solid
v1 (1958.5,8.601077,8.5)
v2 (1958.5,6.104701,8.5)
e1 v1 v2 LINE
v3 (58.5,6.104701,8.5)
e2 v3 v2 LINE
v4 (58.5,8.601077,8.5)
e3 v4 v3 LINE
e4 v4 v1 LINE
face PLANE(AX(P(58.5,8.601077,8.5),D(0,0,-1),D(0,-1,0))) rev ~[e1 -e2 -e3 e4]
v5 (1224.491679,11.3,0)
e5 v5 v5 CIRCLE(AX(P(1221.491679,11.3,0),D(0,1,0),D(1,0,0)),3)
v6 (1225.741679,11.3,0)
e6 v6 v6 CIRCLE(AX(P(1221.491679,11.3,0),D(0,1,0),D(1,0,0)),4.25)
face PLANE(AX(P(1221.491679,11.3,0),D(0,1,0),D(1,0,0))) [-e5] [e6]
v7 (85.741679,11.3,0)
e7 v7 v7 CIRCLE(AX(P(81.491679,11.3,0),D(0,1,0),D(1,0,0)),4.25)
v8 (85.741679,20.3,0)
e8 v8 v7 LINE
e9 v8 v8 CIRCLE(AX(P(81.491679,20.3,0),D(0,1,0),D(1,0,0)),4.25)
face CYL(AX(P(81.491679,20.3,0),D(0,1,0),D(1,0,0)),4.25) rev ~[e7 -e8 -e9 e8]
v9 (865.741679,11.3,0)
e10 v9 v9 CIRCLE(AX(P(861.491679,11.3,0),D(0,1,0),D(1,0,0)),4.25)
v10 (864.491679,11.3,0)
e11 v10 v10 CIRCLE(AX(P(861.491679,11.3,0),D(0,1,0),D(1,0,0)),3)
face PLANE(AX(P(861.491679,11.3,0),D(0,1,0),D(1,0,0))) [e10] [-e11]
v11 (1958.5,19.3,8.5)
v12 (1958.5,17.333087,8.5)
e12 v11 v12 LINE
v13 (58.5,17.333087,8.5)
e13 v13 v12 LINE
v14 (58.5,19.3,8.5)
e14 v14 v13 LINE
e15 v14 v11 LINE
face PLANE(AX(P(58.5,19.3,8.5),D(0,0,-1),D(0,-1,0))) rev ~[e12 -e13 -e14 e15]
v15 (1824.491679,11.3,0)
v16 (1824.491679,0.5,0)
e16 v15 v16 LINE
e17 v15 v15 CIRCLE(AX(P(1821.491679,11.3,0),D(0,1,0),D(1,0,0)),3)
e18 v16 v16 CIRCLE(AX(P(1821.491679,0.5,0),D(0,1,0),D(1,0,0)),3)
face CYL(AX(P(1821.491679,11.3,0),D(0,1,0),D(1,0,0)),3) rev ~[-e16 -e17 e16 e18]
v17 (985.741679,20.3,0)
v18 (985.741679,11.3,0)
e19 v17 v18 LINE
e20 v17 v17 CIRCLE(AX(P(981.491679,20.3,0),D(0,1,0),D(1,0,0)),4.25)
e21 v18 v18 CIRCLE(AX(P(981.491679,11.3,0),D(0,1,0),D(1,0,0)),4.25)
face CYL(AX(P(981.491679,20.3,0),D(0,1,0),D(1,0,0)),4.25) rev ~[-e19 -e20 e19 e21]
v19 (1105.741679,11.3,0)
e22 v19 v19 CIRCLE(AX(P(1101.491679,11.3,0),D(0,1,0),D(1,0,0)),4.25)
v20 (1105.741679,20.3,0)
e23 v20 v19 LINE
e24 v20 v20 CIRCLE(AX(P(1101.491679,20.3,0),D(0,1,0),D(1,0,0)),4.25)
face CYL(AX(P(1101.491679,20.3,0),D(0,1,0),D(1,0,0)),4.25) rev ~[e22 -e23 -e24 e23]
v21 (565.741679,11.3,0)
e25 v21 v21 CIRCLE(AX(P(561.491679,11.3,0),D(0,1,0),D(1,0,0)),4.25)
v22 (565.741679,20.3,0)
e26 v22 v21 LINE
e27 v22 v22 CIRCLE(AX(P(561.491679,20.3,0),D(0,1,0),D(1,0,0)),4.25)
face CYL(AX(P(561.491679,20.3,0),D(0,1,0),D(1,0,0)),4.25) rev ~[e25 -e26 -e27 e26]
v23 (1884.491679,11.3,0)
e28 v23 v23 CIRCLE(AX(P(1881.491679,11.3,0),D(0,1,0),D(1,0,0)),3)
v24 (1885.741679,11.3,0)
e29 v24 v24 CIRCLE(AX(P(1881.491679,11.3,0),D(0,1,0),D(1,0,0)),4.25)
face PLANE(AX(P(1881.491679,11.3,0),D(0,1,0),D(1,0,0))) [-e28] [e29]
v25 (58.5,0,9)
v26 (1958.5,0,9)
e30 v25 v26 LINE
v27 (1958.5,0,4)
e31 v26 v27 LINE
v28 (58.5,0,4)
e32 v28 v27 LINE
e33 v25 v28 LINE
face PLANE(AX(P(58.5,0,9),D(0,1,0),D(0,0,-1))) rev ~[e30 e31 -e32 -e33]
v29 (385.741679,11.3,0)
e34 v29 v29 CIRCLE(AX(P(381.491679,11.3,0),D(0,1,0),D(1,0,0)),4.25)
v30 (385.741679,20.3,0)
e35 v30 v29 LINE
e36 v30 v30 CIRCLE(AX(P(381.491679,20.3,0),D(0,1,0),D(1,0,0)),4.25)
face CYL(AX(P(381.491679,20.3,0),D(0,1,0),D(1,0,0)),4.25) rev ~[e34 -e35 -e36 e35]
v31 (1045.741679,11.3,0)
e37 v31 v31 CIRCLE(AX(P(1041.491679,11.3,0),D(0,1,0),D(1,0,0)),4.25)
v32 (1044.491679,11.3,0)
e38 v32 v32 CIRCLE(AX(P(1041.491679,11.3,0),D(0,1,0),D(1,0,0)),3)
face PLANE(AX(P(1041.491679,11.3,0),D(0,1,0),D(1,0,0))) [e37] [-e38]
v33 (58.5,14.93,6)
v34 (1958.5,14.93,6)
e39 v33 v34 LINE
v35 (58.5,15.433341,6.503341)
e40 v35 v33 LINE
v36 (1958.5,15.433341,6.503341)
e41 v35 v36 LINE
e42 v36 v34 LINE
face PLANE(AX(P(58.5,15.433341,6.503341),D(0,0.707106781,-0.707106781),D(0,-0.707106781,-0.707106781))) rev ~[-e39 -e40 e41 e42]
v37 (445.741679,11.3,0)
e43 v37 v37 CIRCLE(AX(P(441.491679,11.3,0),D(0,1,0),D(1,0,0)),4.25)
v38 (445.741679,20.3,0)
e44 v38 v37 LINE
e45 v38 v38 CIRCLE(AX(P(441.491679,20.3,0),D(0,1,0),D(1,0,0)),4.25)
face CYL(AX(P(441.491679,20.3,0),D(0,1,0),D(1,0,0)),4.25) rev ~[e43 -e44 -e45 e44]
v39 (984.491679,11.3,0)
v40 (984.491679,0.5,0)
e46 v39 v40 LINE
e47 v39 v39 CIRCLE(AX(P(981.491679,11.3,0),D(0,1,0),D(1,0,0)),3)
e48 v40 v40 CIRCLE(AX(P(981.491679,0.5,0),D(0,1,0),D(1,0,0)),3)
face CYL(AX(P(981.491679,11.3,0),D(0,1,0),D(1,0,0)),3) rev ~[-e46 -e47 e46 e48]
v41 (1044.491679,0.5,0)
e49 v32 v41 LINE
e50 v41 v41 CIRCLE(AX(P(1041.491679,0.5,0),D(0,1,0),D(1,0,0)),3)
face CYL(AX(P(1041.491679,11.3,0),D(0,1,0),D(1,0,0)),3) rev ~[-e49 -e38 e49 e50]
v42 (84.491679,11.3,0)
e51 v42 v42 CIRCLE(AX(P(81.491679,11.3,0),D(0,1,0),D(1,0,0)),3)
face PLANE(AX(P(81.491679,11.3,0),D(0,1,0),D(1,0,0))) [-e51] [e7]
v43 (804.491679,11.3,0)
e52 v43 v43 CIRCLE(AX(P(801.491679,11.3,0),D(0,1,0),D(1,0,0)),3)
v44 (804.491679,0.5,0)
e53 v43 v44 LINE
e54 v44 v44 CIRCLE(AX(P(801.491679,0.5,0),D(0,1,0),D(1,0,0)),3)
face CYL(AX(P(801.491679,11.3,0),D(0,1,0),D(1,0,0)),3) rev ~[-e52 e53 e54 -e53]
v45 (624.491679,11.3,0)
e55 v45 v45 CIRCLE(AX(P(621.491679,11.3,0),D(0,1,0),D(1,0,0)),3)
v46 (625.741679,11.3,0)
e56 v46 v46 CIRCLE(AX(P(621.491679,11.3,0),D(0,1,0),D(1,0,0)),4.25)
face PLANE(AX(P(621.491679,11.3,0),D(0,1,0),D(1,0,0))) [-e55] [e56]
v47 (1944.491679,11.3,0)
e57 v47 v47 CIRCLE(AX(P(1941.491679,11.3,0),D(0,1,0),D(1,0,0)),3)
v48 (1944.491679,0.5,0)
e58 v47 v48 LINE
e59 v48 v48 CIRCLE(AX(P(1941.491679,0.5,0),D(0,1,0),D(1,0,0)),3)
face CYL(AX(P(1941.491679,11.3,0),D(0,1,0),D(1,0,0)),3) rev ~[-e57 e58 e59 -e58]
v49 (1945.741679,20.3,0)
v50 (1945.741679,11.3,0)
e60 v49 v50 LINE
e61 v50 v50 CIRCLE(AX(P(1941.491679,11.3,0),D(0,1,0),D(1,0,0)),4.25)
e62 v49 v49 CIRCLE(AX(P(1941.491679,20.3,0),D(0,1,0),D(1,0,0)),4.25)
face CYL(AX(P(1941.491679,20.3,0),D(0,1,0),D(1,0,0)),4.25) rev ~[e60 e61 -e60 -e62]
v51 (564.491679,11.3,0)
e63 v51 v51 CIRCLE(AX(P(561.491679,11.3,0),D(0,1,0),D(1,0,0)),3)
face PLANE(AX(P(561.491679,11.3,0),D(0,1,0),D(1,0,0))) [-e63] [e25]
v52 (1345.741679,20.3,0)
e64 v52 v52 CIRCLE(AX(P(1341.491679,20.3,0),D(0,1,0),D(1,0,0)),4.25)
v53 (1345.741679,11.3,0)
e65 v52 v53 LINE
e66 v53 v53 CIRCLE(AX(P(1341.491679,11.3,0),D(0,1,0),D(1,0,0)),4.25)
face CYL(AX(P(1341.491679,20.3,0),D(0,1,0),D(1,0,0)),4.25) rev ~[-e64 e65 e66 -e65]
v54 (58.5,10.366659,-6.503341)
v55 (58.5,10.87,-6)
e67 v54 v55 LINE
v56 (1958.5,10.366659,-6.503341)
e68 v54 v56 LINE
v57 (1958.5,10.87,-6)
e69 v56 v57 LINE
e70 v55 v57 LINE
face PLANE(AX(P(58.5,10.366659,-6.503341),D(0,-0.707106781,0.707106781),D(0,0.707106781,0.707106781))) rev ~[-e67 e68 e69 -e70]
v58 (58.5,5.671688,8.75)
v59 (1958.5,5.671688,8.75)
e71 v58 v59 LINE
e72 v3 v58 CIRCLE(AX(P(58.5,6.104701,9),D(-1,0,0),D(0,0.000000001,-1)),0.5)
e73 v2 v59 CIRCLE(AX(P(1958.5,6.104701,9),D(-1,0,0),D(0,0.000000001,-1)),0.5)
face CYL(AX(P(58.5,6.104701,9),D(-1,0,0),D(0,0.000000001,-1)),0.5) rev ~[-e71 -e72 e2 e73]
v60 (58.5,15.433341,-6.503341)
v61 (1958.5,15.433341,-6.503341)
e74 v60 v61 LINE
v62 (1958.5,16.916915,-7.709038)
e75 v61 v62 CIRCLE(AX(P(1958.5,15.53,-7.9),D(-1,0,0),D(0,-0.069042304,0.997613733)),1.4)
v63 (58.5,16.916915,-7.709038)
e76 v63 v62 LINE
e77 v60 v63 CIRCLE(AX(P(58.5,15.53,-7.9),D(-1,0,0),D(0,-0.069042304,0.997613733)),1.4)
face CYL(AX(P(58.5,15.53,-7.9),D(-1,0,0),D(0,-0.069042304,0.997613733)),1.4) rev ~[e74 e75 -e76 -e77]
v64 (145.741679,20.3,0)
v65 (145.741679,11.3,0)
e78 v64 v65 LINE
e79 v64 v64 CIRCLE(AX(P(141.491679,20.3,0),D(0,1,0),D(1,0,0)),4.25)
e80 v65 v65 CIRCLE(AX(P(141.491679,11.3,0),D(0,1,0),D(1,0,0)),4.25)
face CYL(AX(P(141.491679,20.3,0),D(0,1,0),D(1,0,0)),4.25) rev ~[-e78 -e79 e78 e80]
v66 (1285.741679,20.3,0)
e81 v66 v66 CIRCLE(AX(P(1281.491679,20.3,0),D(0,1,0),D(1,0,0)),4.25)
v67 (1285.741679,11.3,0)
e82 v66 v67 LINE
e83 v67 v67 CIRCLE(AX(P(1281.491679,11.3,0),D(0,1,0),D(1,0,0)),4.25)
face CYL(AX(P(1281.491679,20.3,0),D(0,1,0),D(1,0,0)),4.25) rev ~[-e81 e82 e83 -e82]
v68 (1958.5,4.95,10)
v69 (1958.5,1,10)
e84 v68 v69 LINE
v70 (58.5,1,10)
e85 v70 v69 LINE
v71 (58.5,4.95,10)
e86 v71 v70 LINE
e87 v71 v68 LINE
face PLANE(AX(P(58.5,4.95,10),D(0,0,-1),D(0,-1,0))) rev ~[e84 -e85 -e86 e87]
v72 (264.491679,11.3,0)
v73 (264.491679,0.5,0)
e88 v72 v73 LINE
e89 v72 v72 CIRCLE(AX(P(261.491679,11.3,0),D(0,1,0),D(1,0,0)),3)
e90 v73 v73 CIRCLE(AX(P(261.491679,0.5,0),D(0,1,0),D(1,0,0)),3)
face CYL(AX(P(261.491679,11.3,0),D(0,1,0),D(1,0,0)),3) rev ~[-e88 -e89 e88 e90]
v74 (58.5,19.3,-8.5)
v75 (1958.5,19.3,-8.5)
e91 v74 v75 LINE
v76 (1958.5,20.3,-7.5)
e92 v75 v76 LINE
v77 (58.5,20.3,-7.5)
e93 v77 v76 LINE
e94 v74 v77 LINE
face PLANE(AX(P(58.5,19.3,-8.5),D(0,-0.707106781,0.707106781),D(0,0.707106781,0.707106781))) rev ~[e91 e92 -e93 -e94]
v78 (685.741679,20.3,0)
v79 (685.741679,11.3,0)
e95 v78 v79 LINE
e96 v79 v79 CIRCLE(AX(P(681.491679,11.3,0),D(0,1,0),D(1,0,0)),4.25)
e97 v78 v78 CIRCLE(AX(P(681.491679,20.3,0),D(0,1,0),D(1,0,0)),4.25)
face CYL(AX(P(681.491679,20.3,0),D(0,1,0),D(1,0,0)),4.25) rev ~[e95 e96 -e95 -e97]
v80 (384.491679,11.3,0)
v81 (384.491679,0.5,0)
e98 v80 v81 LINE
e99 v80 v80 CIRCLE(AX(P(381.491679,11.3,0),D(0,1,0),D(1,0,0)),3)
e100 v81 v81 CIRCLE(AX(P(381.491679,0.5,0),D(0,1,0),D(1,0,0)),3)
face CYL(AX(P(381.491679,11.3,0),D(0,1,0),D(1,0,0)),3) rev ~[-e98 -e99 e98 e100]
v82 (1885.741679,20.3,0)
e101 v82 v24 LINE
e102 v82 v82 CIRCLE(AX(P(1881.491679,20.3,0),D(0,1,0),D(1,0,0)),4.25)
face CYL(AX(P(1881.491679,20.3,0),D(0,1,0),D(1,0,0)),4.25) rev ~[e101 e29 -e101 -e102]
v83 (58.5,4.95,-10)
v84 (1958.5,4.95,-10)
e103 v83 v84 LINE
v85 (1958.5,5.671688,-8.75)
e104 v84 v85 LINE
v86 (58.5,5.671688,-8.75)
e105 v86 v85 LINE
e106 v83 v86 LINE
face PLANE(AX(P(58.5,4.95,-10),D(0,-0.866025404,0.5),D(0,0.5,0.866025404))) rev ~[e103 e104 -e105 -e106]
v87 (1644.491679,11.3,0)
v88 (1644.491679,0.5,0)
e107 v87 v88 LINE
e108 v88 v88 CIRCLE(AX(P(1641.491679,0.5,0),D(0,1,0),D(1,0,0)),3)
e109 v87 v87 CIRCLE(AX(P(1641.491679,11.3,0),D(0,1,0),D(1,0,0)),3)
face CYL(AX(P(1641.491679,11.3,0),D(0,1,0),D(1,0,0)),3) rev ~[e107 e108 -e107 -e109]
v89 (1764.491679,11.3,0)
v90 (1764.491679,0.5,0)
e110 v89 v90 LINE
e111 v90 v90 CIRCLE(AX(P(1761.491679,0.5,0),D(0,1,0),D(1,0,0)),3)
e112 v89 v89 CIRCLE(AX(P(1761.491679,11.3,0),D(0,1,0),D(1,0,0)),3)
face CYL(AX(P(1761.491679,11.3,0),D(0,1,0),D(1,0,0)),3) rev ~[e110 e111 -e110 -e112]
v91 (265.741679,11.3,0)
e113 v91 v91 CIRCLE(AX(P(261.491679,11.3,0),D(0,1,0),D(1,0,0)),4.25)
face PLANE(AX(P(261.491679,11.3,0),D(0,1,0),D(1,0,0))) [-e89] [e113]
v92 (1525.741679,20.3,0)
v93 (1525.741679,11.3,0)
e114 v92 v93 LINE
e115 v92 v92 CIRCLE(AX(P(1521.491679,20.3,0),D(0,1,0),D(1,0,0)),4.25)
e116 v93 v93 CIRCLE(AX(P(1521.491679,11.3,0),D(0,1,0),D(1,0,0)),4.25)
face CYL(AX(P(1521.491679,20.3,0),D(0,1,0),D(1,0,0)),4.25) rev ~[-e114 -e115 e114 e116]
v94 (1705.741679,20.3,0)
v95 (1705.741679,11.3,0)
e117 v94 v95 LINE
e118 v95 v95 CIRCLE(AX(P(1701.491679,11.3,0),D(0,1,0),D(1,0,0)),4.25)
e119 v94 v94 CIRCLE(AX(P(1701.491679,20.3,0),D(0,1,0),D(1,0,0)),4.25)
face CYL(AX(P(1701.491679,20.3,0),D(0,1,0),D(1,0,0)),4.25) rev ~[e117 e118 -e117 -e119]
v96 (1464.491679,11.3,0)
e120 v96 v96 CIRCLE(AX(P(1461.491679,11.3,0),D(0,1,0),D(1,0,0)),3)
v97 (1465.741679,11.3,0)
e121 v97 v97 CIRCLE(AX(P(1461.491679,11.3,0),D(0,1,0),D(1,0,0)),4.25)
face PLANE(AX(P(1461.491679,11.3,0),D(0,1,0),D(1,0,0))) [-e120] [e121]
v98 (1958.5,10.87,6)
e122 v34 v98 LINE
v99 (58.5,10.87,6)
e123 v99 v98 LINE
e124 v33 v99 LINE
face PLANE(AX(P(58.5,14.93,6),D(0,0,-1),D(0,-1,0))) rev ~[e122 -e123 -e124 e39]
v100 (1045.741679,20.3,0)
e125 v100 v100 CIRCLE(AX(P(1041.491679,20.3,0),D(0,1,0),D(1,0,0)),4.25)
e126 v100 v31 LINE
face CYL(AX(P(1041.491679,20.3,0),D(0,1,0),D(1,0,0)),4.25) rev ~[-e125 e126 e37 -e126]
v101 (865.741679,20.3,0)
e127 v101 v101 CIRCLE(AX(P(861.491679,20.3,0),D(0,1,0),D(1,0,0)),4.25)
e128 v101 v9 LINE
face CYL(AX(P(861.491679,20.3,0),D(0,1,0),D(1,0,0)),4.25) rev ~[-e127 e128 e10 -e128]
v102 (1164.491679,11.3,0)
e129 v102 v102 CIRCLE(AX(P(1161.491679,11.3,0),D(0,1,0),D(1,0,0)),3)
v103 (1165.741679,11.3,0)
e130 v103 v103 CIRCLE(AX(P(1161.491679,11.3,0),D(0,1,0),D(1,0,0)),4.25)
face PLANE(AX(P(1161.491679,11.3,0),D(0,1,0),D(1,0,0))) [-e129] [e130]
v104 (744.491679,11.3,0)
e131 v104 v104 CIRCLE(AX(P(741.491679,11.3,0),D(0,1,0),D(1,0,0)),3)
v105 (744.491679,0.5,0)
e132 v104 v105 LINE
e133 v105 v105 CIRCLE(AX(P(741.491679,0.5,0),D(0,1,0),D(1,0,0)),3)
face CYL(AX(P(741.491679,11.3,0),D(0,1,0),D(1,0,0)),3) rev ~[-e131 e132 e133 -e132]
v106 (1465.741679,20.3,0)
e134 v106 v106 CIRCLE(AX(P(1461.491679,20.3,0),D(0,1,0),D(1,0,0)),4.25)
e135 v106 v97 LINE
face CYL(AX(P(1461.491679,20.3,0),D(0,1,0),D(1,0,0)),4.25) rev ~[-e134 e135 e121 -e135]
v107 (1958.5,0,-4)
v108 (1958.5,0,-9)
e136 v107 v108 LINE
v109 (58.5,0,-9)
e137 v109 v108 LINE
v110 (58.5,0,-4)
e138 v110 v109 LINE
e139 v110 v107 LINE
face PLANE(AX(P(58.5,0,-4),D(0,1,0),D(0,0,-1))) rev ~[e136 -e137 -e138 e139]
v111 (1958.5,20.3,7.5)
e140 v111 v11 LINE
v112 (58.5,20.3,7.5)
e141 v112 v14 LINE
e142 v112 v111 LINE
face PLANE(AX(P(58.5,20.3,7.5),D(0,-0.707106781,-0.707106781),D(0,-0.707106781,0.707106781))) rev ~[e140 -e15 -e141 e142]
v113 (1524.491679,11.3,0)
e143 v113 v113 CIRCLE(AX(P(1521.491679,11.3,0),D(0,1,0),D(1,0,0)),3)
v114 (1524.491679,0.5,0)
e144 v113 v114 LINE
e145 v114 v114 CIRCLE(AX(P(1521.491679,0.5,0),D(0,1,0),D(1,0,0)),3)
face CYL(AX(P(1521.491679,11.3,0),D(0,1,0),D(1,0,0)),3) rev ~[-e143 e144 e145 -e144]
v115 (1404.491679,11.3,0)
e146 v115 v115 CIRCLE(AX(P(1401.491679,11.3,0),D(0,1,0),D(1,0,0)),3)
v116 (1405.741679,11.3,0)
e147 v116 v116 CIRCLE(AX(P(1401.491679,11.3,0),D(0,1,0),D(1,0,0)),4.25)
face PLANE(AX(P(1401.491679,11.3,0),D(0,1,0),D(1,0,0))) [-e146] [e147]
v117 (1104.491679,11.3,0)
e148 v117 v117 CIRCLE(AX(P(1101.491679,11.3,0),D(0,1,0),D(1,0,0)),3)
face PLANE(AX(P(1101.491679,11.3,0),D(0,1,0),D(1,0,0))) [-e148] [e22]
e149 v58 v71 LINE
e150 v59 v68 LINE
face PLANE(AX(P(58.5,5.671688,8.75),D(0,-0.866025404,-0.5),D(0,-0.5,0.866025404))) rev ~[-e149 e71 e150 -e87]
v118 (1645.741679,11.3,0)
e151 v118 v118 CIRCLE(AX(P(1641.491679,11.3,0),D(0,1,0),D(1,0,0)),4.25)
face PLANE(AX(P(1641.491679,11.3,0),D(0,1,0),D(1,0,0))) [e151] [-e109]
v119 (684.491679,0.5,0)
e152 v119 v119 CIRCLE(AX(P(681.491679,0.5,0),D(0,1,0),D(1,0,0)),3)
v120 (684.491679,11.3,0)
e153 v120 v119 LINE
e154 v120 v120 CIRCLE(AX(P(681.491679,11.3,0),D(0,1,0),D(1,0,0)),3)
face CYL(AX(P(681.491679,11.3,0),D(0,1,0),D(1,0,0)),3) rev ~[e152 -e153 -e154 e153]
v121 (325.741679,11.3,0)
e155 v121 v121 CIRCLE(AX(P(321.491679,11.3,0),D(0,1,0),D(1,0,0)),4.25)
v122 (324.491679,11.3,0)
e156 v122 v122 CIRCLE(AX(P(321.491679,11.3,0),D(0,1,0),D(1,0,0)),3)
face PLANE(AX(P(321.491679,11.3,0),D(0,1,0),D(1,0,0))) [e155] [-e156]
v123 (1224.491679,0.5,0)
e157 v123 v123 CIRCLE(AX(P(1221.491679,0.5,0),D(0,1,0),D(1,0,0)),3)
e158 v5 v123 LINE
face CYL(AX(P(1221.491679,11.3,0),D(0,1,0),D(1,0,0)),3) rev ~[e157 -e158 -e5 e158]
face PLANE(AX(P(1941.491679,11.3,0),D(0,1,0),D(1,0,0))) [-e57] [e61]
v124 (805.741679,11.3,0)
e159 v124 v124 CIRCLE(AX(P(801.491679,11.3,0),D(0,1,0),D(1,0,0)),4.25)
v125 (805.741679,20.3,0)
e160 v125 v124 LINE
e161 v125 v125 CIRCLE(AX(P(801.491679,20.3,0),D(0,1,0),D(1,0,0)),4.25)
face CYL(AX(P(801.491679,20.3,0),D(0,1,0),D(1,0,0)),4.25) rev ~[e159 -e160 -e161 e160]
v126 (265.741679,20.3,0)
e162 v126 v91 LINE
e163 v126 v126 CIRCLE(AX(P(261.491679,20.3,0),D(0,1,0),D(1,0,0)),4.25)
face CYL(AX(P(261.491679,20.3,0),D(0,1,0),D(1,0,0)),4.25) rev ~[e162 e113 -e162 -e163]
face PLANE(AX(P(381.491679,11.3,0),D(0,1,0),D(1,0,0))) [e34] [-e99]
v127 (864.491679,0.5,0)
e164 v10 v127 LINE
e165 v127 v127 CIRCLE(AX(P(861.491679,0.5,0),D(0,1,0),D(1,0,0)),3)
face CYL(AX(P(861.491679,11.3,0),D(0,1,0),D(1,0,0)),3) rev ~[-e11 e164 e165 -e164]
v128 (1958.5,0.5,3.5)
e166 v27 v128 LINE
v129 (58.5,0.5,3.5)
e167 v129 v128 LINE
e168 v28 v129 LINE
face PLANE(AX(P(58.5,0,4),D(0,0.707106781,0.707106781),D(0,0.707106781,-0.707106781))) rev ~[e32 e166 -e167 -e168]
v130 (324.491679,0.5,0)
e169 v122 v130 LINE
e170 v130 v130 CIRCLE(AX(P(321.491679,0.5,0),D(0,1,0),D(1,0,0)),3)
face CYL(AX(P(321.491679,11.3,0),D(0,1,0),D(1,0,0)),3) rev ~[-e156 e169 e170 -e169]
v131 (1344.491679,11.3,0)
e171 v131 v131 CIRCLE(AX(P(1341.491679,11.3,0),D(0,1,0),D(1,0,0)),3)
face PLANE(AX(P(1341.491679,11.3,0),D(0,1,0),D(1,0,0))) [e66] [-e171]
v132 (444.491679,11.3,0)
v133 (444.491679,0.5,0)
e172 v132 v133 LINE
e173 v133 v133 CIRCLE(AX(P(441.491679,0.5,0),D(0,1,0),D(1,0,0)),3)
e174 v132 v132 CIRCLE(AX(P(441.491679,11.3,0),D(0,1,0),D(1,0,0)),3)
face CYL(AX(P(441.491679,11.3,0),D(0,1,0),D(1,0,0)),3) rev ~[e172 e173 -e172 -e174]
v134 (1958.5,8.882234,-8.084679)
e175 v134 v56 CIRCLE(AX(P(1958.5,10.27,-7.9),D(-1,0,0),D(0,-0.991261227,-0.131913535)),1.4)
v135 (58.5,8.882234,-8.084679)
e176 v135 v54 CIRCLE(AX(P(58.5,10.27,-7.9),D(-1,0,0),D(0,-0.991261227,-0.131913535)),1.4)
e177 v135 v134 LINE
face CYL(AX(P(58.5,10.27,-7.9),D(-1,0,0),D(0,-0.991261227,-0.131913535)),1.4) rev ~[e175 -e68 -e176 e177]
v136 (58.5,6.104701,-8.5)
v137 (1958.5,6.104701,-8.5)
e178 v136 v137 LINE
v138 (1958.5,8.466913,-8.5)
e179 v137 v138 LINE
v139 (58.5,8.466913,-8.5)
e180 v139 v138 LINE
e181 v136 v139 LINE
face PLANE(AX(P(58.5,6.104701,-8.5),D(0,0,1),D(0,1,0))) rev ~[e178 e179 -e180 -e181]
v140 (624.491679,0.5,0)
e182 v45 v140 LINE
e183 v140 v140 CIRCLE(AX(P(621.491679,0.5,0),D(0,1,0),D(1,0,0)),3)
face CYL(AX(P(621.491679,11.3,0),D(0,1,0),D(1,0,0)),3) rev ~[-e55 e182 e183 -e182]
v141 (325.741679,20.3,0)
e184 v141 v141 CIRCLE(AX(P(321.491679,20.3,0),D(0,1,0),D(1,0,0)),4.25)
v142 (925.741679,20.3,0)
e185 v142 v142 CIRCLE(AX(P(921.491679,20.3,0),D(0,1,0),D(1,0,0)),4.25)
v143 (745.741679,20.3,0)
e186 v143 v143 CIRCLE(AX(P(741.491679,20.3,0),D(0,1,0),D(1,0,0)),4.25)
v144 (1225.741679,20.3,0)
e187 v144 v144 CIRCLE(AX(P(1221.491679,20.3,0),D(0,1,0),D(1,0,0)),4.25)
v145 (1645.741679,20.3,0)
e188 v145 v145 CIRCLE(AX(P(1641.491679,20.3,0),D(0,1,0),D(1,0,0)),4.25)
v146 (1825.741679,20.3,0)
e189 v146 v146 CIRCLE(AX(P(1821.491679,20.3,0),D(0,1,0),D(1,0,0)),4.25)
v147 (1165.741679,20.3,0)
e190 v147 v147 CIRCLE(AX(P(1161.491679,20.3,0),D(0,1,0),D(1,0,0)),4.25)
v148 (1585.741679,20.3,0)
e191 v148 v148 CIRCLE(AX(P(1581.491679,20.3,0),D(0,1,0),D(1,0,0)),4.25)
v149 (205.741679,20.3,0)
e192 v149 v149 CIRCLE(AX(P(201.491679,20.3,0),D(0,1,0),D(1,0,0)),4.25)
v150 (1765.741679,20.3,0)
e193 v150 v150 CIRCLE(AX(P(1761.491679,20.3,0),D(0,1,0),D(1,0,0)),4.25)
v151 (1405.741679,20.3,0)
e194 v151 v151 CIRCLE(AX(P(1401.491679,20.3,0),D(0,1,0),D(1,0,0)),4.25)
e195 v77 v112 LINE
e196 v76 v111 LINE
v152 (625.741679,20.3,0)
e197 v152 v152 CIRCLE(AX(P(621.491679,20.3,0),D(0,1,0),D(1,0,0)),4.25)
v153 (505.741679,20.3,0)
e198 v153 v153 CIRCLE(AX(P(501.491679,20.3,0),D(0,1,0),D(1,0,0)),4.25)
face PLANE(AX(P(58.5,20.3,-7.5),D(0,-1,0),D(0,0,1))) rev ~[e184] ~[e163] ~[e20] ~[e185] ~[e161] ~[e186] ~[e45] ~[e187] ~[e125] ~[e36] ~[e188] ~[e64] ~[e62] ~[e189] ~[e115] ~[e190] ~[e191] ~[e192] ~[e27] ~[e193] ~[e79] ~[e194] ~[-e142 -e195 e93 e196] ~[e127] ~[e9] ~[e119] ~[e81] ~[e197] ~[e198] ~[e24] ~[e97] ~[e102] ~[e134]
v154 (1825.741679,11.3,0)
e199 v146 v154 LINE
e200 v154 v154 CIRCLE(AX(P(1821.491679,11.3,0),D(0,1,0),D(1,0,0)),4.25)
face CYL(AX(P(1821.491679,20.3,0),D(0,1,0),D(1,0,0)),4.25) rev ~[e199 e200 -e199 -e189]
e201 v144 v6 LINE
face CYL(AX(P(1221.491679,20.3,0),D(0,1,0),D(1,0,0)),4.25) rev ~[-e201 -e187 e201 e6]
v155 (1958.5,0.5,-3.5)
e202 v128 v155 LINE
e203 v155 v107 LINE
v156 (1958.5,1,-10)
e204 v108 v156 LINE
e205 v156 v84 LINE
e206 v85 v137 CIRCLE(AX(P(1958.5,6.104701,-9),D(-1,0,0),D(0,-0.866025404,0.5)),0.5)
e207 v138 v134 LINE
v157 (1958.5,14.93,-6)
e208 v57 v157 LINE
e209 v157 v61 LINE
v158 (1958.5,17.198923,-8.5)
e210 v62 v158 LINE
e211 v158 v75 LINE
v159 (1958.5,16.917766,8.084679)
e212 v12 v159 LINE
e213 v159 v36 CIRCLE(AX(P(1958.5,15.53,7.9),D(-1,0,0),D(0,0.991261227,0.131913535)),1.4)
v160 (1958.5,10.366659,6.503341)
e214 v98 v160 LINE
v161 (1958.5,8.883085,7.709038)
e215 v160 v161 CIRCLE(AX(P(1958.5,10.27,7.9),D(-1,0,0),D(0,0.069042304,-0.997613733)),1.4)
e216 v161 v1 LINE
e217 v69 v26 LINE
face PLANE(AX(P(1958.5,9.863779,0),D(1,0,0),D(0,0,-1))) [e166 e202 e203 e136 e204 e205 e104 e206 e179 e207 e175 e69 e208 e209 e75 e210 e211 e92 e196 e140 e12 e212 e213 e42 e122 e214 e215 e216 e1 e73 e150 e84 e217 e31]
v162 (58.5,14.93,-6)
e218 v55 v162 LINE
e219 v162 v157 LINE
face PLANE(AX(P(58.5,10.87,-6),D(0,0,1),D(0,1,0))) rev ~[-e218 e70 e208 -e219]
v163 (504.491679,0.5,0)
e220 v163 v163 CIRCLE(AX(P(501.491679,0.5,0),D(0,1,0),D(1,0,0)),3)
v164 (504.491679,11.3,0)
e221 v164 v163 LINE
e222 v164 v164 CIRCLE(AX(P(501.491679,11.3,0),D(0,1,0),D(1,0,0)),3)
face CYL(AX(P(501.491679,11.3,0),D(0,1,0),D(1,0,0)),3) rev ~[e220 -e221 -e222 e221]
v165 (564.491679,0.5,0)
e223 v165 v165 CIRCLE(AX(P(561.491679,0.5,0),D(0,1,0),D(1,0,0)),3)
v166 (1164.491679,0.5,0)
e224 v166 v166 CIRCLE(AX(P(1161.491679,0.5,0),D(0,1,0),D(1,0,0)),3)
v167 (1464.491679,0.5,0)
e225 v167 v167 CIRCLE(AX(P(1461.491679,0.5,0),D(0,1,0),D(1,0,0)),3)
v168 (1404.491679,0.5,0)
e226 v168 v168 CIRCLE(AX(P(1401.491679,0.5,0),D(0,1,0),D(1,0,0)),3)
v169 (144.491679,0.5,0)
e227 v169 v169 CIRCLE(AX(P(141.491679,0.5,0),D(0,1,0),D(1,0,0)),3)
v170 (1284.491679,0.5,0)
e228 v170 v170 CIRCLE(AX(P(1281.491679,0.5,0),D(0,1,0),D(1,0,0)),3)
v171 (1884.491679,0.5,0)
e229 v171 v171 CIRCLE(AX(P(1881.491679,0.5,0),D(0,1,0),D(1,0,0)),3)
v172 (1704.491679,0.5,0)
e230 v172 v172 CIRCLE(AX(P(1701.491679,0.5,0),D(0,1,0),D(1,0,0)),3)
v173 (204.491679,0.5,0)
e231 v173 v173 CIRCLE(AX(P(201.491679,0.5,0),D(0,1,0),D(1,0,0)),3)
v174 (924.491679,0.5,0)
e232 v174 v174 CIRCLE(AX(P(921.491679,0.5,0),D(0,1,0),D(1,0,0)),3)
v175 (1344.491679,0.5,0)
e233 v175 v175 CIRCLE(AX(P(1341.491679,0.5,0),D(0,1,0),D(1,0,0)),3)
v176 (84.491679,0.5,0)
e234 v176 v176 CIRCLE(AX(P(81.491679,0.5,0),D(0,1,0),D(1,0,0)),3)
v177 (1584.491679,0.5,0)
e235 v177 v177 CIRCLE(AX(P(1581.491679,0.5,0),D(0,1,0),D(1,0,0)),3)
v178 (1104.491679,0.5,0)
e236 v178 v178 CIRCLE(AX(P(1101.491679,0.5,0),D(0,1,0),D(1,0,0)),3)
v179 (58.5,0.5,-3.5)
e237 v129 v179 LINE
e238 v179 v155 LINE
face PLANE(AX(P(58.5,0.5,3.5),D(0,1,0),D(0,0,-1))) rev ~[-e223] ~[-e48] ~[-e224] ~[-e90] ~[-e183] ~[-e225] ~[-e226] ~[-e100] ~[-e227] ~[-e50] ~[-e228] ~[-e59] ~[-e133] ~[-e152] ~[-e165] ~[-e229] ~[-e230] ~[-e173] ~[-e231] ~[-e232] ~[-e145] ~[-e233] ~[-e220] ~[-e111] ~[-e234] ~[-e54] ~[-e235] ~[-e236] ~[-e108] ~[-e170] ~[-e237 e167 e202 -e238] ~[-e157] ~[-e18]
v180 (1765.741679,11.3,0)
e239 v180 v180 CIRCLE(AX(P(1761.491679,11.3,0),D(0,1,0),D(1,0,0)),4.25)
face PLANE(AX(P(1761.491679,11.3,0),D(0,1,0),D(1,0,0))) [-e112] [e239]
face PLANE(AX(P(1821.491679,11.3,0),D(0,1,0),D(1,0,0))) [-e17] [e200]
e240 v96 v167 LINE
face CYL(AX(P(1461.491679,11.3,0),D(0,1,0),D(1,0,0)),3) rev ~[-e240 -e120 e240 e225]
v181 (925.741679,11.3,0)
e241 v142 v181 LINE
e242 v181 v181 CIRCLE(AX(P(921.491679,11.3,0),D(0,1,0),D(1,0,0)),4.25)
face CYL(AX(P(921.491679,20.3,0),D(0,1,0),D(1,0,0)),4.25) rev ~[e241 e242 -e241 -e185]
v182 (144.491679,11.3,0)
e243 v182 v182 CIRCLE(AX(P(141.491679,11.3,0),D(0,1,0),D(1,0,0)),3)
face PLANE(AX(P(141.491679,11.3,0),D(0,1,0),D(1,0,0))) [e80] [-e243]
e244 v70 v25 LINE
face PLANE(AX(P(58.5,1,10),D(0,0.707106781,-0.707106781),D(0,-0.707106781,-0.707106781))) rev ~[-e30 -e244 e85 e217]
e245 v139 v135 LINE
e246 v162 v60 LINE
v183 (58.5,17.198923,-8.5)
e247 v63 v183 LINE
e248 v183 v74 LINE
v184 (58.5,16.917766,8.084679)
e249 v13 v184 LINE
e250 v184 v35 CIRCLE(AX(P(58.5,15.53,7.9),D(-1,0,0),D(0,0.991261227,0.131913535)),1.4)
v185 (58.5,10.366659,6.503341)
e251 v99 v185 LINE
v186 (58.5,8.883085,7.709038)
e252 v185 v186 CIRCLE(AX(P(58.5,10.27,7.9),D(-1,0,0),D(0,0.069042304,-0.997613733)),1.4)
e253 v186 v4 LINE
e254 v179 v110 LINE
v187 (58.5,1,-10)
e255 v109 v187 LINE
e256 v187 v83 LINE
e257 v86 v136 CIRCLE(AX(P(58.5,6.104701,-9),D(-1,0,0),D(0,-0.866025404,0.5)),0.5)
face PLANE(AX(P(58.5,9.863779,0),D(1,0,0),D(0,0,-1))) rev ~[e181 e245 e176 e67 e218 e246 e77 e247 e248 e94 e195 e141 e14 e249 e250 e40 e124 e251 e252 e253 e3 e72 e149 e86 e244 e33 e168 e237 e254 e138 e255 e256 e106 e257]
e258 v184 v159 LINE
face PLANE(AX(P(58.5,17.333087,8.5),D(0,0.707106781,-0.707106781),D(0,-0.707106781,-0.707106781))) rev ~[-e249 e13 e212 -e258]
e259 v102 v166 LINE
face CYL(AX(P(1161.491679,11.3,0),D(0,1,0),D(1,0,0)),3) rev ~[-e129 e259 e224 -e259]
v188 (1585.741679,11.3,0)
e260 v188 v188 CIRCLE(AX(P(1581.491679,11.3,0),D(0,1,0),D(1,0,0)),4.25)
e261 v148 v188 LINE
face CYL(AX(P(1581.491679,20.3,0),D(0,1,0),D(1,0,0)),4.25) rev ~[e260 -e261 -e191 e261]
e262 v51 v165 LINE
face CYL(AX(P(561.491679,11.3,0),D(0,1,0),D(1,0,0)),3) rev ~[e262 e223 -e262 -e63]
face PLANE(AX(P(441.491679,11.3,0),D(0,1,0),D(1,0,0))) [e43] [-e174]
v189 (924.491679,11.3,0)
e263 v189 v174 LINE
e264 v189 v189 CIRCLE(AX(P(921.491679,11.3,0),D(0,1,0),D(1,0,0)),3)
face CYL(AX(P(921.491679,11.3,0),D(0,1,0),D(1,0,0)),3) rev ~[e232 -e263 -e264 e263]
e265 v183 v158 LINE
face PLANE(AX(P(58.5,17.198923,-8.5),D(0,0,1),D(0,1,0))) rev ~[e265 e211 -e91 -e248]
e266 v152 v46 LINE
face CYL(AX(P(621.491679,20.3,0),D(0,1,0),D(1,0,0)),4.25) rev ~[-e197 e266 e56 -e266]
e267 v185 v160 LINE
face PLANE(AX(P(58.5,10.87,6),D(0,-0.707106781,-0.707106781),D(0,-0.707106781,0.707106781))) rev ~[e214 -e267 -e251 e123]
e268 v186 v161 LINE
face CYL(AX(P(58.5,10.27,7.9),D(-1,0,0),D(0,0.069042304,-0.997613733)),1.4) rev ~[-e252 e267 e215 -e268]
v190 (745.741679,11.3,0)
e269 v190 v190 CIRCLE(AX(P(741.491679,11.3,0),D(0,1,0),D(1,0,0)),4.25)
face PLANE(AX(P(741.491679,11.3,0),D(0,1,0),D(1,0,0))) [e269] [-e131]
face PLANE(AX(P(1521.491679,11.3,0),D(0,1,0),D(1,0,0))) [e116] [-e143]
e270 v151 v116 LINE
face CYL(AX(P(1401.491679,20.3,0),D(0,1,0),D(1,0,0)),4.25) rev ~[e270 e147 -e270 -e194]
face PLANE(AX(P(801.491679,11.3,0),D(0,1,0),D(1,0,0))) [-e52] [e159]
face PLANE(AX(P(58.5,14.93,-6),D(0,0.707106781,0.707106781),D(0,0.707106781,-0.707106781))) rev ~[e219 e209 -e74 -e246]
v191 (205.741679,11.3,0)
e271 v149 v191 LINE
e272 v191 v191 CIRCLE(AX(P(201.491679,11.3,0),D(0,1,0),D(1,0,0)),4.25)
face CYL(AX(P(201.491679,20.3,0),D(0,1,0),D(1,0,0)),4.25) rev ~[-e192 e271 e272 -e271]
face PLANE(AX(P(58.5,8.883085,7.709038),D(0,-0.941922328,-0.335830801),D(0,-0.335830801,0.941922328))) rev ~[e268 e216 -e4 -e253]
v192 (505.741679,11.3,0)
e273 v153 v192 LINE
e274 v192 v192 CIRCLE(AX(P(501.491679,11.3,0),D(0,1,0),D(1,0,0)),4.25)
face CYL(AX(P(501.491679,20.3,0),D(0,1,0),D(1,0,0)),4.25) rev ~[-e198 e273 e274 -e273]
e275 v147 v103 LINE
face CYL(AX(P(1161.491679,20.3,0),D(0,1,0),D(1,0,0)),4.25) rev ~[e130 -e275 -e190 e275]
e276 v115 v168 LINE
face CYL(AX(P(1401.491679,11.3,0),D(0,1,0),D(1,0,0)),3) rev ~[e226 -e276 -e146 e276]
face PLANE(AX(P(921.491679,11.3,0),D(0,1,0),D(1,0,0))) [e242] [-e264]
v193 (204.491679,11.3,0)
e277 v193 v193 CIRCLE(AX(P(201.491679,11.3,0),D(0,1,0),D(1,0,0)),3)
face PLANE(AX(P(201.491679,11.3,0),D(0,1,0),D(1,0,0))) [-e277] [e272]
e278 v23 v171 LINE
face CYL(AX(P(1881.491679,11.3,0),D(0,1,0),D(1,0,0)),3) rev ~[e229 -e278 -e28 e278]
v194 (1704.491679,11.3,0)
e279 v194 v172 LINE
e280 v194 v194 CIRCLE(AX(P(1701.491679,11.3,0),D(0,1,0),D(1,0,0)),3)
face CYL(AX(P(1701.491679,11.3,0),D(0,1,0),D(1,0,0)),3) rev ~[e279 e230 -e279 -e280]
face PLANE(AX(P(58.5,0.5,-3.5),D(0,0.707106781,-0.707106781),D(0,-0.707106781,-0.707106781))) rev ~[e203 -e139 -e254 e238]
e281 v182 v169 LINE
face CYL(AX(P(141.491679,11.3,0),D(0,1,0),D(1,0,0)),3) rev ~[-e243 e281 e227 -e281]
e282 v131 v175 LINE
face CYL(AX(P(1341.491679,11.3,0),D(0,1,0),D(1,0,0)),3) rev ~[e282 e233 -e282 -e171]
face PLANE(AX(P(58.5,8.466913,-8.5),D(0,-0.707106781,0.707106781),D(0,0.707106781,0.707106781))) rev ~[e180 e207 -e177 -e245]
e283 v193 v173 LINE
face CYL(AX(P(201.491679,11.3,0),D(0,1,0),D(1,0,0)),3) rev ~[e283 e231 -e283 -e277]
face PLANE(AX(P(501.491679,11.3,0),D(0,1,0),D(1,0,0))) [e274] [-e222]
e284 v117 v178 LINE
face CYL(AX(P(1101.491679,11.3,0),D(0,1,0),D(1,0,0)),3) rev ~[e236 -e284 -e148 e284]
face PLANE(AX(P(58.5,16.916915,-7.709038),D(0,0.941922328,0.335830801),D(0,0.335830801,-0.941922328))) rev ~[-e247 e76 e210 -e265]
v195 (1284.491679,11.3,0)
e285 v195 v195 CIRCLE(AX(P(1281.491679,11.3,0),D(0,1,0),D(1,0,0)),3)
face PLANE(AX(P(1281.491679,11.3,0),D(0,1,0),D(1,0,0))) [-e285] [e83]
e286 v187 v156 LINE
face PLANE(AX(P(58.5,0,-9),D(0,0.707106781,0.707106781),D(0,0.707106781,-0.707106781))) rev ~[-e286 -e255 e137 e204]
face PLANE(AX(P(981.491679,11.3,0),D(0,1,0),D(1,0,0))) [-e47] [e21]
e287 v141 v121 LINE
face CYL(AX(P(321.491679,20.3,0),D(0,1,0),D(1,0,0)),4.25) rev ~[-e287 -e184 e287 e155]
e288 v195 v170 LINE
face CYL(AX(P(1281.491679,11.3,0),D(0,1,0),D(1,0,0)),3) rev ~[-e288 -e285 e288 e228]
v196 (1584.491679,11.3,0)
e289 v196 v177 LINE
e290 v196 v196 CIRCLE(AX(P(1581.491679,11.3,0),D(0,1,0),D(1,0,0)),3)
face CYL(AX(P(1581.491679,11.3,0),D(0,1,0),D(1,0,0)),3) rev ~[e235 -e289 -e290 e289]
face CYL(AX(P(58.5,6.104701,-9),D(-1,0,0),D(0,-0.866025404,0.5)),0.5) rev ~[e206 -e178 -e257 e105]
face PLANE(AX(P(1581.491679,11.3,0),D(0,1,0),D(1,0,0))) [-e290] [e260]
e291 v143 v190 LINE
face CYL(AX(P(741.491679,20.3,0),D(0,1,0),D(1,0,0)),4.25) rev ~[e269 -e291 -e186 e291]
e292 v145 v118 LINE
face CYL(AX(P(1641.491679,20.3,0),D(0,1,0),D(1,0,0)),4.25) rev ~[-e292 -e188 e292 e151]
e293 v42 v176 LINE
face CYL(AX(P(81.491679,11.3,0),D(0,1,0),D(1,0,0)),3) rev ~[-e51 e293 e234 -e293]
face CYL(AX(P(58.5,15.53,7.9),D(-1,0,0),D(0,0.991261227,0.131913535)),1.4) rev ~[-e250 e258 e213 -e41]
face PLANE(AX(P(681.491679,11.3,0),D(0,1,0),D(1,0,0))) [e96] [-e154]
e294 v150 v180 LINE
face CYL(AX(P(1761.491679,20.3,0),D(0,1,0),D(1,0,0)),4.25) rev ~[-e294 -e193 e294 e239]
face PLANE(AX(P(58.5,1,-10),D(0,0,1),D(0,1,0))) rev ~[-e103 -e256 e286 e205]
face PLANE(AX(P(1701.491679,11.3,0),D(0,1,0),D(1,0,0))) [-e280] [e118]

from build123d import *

# Parameters (mm, degrees)
BOSS_EXTRUDE5_DEPTH = 1900
SKETCH8_R           = 4.25
CUT_EXTRUDE1_DEPTH  = 9
SKETCH9_R           = 3
CUT_EXTRUDE2_DEPTH  = 12.3
LPATTERN1_COUNT     = 35
LPATTERN1_PITCH     = 60


with BuildPart() as part:
    # Sketch7 → Boss-Extrude5 (new body)
    with BuildSketch(Plane(origin=(58.5, 0, 0), x_dir=(0, 0, -1), z_dir=(1, 0, 0))):
        with BuildLine():
            Line((-7.709038211, 8.883084864), (-8.5, 8.601077183))
            Line((-8.5, 8.601077183), (-8.5, 6.104700538))
            ThreePointArc((-8.5, 6.104700538), (-8.566987298, 5.854700538), (-8.75, 5.671687836))
            Line((-8.75, 5.671687836), (-10, 4.95))
            Line((-10, 4.95), (-10, 1))
            Line((-10, 1), (-9, 0))
            Line((-9, 0), (-4, 0))
            Line((-4, 0), (-3.5, 0.5))
            Line((-3.5, 0.5), (3.5, 0.5))
            Line((3.5, 0.5), (4, 0))
            Line((4, 0), (9, 0))
            Line((9, 0), (10, 1))
            Line((10, 1), (10, 4.95))
            Line((10, 4.95), (8.75, 5.671687836))
            ThreePointArc((8.75, 5.671687836), (8.566987298, 5.854700538), (8.5, 6.104700538))
            Line((8.5, 6.104700538), (8.5, 8.46691323))
            Line((8.5, 8.46691323), (8.084678947, 8.882234283))
            ThreePointArc((8.084678947, 8.882234283), (6.941822875, 9.249266637), (6.503340774, 10.366659226))
            Line((6.503340774, 10.366659226), (6, 10.87))
            Line((6, 10.87), (6, 14.93))
            Line((6, 14.93), (6.503340774, 15.433340774))
            ThreePointArc((6.503340774, 15.433340774), (6.813545517, 16.412959034), (7.709038211, 16.916915136))
            Line((7.709038211, 16.916915136), (8.5, 17.198922817))
            Line((8.5, 17.198922817), (8.5, 19.3))
            Line((8.5, 19.3), (7.5, 20.3))
            Line((7.5, 20.3), (-7.5, 20.3))
            Line((-7.5, 20.3), (-8.5, 19.3))
            Line((-8.5, 19.3), (-8.5, 17.33308677))
            Line((-8.5, 17.33308677), (-8.084678947, 16.917765717))
            ThreePointArc((-8.084678947, 16.917765717), (-6.941822875, 16.550733363), (-6.503340774, 15.433340774))
            Line((-6.503340774, 15.433340774), (-6, 14.93))
            Line((-6, 14.93), (-6, 10.87))
            Line((-6, 10.87), (-6.503340774, 10.366659226))
            ThreePointArc((-6.503340774, 10.366659226), (-6.813545517, 9.387040966), (-7.709038211, 8.883084864))
        make_face()
    extrude(amount=BOSS_EXTRUDE5_DEPTH)

    # Sketch8 → Cut-Extrude1 (cut)
    with BuildSketch(Plane(origin=(0, 20.3, 0), x_dir=(1, 0, 0), z_dir=(0, 1, 0))):
        with Locations((1941.491679108, 0)):
            Circle(SKETCH8_R)
    cut_extrude1 = extrude(amount=-CUT_EXTRUDE1_DEPTH, mode=Mode.SUBTRACT)

    # Sketch9 → Cut-Extrude2 (cut, through all)
    with BuildSketch(Plane(origin=(0, 11.3, 0), x_dir=(1, 0, 0), z_dir=(0, 1, 0))):
        with Locations((1941.491679108, 0)):
            Circle(SKETCH9_R)
    cut_extrude2 = extrude(amount=-CUT_EXTRUDE2_DEPTH, mode=Mode.SUBTRACT)

    # LPattern1: Cut-Extrude1, Cut-Extrude2 ×35
    with Locations(*[(-i * LPATTERN1_PITCH, 0, 0) for i in range(1, LPATTERN1_COUNT)]):
        add(cut_extrude1, mode=Mode.SUBTRACT)
        add(cut_extrude2, mode=Mode.SUBTRACT)


solid = part.part
